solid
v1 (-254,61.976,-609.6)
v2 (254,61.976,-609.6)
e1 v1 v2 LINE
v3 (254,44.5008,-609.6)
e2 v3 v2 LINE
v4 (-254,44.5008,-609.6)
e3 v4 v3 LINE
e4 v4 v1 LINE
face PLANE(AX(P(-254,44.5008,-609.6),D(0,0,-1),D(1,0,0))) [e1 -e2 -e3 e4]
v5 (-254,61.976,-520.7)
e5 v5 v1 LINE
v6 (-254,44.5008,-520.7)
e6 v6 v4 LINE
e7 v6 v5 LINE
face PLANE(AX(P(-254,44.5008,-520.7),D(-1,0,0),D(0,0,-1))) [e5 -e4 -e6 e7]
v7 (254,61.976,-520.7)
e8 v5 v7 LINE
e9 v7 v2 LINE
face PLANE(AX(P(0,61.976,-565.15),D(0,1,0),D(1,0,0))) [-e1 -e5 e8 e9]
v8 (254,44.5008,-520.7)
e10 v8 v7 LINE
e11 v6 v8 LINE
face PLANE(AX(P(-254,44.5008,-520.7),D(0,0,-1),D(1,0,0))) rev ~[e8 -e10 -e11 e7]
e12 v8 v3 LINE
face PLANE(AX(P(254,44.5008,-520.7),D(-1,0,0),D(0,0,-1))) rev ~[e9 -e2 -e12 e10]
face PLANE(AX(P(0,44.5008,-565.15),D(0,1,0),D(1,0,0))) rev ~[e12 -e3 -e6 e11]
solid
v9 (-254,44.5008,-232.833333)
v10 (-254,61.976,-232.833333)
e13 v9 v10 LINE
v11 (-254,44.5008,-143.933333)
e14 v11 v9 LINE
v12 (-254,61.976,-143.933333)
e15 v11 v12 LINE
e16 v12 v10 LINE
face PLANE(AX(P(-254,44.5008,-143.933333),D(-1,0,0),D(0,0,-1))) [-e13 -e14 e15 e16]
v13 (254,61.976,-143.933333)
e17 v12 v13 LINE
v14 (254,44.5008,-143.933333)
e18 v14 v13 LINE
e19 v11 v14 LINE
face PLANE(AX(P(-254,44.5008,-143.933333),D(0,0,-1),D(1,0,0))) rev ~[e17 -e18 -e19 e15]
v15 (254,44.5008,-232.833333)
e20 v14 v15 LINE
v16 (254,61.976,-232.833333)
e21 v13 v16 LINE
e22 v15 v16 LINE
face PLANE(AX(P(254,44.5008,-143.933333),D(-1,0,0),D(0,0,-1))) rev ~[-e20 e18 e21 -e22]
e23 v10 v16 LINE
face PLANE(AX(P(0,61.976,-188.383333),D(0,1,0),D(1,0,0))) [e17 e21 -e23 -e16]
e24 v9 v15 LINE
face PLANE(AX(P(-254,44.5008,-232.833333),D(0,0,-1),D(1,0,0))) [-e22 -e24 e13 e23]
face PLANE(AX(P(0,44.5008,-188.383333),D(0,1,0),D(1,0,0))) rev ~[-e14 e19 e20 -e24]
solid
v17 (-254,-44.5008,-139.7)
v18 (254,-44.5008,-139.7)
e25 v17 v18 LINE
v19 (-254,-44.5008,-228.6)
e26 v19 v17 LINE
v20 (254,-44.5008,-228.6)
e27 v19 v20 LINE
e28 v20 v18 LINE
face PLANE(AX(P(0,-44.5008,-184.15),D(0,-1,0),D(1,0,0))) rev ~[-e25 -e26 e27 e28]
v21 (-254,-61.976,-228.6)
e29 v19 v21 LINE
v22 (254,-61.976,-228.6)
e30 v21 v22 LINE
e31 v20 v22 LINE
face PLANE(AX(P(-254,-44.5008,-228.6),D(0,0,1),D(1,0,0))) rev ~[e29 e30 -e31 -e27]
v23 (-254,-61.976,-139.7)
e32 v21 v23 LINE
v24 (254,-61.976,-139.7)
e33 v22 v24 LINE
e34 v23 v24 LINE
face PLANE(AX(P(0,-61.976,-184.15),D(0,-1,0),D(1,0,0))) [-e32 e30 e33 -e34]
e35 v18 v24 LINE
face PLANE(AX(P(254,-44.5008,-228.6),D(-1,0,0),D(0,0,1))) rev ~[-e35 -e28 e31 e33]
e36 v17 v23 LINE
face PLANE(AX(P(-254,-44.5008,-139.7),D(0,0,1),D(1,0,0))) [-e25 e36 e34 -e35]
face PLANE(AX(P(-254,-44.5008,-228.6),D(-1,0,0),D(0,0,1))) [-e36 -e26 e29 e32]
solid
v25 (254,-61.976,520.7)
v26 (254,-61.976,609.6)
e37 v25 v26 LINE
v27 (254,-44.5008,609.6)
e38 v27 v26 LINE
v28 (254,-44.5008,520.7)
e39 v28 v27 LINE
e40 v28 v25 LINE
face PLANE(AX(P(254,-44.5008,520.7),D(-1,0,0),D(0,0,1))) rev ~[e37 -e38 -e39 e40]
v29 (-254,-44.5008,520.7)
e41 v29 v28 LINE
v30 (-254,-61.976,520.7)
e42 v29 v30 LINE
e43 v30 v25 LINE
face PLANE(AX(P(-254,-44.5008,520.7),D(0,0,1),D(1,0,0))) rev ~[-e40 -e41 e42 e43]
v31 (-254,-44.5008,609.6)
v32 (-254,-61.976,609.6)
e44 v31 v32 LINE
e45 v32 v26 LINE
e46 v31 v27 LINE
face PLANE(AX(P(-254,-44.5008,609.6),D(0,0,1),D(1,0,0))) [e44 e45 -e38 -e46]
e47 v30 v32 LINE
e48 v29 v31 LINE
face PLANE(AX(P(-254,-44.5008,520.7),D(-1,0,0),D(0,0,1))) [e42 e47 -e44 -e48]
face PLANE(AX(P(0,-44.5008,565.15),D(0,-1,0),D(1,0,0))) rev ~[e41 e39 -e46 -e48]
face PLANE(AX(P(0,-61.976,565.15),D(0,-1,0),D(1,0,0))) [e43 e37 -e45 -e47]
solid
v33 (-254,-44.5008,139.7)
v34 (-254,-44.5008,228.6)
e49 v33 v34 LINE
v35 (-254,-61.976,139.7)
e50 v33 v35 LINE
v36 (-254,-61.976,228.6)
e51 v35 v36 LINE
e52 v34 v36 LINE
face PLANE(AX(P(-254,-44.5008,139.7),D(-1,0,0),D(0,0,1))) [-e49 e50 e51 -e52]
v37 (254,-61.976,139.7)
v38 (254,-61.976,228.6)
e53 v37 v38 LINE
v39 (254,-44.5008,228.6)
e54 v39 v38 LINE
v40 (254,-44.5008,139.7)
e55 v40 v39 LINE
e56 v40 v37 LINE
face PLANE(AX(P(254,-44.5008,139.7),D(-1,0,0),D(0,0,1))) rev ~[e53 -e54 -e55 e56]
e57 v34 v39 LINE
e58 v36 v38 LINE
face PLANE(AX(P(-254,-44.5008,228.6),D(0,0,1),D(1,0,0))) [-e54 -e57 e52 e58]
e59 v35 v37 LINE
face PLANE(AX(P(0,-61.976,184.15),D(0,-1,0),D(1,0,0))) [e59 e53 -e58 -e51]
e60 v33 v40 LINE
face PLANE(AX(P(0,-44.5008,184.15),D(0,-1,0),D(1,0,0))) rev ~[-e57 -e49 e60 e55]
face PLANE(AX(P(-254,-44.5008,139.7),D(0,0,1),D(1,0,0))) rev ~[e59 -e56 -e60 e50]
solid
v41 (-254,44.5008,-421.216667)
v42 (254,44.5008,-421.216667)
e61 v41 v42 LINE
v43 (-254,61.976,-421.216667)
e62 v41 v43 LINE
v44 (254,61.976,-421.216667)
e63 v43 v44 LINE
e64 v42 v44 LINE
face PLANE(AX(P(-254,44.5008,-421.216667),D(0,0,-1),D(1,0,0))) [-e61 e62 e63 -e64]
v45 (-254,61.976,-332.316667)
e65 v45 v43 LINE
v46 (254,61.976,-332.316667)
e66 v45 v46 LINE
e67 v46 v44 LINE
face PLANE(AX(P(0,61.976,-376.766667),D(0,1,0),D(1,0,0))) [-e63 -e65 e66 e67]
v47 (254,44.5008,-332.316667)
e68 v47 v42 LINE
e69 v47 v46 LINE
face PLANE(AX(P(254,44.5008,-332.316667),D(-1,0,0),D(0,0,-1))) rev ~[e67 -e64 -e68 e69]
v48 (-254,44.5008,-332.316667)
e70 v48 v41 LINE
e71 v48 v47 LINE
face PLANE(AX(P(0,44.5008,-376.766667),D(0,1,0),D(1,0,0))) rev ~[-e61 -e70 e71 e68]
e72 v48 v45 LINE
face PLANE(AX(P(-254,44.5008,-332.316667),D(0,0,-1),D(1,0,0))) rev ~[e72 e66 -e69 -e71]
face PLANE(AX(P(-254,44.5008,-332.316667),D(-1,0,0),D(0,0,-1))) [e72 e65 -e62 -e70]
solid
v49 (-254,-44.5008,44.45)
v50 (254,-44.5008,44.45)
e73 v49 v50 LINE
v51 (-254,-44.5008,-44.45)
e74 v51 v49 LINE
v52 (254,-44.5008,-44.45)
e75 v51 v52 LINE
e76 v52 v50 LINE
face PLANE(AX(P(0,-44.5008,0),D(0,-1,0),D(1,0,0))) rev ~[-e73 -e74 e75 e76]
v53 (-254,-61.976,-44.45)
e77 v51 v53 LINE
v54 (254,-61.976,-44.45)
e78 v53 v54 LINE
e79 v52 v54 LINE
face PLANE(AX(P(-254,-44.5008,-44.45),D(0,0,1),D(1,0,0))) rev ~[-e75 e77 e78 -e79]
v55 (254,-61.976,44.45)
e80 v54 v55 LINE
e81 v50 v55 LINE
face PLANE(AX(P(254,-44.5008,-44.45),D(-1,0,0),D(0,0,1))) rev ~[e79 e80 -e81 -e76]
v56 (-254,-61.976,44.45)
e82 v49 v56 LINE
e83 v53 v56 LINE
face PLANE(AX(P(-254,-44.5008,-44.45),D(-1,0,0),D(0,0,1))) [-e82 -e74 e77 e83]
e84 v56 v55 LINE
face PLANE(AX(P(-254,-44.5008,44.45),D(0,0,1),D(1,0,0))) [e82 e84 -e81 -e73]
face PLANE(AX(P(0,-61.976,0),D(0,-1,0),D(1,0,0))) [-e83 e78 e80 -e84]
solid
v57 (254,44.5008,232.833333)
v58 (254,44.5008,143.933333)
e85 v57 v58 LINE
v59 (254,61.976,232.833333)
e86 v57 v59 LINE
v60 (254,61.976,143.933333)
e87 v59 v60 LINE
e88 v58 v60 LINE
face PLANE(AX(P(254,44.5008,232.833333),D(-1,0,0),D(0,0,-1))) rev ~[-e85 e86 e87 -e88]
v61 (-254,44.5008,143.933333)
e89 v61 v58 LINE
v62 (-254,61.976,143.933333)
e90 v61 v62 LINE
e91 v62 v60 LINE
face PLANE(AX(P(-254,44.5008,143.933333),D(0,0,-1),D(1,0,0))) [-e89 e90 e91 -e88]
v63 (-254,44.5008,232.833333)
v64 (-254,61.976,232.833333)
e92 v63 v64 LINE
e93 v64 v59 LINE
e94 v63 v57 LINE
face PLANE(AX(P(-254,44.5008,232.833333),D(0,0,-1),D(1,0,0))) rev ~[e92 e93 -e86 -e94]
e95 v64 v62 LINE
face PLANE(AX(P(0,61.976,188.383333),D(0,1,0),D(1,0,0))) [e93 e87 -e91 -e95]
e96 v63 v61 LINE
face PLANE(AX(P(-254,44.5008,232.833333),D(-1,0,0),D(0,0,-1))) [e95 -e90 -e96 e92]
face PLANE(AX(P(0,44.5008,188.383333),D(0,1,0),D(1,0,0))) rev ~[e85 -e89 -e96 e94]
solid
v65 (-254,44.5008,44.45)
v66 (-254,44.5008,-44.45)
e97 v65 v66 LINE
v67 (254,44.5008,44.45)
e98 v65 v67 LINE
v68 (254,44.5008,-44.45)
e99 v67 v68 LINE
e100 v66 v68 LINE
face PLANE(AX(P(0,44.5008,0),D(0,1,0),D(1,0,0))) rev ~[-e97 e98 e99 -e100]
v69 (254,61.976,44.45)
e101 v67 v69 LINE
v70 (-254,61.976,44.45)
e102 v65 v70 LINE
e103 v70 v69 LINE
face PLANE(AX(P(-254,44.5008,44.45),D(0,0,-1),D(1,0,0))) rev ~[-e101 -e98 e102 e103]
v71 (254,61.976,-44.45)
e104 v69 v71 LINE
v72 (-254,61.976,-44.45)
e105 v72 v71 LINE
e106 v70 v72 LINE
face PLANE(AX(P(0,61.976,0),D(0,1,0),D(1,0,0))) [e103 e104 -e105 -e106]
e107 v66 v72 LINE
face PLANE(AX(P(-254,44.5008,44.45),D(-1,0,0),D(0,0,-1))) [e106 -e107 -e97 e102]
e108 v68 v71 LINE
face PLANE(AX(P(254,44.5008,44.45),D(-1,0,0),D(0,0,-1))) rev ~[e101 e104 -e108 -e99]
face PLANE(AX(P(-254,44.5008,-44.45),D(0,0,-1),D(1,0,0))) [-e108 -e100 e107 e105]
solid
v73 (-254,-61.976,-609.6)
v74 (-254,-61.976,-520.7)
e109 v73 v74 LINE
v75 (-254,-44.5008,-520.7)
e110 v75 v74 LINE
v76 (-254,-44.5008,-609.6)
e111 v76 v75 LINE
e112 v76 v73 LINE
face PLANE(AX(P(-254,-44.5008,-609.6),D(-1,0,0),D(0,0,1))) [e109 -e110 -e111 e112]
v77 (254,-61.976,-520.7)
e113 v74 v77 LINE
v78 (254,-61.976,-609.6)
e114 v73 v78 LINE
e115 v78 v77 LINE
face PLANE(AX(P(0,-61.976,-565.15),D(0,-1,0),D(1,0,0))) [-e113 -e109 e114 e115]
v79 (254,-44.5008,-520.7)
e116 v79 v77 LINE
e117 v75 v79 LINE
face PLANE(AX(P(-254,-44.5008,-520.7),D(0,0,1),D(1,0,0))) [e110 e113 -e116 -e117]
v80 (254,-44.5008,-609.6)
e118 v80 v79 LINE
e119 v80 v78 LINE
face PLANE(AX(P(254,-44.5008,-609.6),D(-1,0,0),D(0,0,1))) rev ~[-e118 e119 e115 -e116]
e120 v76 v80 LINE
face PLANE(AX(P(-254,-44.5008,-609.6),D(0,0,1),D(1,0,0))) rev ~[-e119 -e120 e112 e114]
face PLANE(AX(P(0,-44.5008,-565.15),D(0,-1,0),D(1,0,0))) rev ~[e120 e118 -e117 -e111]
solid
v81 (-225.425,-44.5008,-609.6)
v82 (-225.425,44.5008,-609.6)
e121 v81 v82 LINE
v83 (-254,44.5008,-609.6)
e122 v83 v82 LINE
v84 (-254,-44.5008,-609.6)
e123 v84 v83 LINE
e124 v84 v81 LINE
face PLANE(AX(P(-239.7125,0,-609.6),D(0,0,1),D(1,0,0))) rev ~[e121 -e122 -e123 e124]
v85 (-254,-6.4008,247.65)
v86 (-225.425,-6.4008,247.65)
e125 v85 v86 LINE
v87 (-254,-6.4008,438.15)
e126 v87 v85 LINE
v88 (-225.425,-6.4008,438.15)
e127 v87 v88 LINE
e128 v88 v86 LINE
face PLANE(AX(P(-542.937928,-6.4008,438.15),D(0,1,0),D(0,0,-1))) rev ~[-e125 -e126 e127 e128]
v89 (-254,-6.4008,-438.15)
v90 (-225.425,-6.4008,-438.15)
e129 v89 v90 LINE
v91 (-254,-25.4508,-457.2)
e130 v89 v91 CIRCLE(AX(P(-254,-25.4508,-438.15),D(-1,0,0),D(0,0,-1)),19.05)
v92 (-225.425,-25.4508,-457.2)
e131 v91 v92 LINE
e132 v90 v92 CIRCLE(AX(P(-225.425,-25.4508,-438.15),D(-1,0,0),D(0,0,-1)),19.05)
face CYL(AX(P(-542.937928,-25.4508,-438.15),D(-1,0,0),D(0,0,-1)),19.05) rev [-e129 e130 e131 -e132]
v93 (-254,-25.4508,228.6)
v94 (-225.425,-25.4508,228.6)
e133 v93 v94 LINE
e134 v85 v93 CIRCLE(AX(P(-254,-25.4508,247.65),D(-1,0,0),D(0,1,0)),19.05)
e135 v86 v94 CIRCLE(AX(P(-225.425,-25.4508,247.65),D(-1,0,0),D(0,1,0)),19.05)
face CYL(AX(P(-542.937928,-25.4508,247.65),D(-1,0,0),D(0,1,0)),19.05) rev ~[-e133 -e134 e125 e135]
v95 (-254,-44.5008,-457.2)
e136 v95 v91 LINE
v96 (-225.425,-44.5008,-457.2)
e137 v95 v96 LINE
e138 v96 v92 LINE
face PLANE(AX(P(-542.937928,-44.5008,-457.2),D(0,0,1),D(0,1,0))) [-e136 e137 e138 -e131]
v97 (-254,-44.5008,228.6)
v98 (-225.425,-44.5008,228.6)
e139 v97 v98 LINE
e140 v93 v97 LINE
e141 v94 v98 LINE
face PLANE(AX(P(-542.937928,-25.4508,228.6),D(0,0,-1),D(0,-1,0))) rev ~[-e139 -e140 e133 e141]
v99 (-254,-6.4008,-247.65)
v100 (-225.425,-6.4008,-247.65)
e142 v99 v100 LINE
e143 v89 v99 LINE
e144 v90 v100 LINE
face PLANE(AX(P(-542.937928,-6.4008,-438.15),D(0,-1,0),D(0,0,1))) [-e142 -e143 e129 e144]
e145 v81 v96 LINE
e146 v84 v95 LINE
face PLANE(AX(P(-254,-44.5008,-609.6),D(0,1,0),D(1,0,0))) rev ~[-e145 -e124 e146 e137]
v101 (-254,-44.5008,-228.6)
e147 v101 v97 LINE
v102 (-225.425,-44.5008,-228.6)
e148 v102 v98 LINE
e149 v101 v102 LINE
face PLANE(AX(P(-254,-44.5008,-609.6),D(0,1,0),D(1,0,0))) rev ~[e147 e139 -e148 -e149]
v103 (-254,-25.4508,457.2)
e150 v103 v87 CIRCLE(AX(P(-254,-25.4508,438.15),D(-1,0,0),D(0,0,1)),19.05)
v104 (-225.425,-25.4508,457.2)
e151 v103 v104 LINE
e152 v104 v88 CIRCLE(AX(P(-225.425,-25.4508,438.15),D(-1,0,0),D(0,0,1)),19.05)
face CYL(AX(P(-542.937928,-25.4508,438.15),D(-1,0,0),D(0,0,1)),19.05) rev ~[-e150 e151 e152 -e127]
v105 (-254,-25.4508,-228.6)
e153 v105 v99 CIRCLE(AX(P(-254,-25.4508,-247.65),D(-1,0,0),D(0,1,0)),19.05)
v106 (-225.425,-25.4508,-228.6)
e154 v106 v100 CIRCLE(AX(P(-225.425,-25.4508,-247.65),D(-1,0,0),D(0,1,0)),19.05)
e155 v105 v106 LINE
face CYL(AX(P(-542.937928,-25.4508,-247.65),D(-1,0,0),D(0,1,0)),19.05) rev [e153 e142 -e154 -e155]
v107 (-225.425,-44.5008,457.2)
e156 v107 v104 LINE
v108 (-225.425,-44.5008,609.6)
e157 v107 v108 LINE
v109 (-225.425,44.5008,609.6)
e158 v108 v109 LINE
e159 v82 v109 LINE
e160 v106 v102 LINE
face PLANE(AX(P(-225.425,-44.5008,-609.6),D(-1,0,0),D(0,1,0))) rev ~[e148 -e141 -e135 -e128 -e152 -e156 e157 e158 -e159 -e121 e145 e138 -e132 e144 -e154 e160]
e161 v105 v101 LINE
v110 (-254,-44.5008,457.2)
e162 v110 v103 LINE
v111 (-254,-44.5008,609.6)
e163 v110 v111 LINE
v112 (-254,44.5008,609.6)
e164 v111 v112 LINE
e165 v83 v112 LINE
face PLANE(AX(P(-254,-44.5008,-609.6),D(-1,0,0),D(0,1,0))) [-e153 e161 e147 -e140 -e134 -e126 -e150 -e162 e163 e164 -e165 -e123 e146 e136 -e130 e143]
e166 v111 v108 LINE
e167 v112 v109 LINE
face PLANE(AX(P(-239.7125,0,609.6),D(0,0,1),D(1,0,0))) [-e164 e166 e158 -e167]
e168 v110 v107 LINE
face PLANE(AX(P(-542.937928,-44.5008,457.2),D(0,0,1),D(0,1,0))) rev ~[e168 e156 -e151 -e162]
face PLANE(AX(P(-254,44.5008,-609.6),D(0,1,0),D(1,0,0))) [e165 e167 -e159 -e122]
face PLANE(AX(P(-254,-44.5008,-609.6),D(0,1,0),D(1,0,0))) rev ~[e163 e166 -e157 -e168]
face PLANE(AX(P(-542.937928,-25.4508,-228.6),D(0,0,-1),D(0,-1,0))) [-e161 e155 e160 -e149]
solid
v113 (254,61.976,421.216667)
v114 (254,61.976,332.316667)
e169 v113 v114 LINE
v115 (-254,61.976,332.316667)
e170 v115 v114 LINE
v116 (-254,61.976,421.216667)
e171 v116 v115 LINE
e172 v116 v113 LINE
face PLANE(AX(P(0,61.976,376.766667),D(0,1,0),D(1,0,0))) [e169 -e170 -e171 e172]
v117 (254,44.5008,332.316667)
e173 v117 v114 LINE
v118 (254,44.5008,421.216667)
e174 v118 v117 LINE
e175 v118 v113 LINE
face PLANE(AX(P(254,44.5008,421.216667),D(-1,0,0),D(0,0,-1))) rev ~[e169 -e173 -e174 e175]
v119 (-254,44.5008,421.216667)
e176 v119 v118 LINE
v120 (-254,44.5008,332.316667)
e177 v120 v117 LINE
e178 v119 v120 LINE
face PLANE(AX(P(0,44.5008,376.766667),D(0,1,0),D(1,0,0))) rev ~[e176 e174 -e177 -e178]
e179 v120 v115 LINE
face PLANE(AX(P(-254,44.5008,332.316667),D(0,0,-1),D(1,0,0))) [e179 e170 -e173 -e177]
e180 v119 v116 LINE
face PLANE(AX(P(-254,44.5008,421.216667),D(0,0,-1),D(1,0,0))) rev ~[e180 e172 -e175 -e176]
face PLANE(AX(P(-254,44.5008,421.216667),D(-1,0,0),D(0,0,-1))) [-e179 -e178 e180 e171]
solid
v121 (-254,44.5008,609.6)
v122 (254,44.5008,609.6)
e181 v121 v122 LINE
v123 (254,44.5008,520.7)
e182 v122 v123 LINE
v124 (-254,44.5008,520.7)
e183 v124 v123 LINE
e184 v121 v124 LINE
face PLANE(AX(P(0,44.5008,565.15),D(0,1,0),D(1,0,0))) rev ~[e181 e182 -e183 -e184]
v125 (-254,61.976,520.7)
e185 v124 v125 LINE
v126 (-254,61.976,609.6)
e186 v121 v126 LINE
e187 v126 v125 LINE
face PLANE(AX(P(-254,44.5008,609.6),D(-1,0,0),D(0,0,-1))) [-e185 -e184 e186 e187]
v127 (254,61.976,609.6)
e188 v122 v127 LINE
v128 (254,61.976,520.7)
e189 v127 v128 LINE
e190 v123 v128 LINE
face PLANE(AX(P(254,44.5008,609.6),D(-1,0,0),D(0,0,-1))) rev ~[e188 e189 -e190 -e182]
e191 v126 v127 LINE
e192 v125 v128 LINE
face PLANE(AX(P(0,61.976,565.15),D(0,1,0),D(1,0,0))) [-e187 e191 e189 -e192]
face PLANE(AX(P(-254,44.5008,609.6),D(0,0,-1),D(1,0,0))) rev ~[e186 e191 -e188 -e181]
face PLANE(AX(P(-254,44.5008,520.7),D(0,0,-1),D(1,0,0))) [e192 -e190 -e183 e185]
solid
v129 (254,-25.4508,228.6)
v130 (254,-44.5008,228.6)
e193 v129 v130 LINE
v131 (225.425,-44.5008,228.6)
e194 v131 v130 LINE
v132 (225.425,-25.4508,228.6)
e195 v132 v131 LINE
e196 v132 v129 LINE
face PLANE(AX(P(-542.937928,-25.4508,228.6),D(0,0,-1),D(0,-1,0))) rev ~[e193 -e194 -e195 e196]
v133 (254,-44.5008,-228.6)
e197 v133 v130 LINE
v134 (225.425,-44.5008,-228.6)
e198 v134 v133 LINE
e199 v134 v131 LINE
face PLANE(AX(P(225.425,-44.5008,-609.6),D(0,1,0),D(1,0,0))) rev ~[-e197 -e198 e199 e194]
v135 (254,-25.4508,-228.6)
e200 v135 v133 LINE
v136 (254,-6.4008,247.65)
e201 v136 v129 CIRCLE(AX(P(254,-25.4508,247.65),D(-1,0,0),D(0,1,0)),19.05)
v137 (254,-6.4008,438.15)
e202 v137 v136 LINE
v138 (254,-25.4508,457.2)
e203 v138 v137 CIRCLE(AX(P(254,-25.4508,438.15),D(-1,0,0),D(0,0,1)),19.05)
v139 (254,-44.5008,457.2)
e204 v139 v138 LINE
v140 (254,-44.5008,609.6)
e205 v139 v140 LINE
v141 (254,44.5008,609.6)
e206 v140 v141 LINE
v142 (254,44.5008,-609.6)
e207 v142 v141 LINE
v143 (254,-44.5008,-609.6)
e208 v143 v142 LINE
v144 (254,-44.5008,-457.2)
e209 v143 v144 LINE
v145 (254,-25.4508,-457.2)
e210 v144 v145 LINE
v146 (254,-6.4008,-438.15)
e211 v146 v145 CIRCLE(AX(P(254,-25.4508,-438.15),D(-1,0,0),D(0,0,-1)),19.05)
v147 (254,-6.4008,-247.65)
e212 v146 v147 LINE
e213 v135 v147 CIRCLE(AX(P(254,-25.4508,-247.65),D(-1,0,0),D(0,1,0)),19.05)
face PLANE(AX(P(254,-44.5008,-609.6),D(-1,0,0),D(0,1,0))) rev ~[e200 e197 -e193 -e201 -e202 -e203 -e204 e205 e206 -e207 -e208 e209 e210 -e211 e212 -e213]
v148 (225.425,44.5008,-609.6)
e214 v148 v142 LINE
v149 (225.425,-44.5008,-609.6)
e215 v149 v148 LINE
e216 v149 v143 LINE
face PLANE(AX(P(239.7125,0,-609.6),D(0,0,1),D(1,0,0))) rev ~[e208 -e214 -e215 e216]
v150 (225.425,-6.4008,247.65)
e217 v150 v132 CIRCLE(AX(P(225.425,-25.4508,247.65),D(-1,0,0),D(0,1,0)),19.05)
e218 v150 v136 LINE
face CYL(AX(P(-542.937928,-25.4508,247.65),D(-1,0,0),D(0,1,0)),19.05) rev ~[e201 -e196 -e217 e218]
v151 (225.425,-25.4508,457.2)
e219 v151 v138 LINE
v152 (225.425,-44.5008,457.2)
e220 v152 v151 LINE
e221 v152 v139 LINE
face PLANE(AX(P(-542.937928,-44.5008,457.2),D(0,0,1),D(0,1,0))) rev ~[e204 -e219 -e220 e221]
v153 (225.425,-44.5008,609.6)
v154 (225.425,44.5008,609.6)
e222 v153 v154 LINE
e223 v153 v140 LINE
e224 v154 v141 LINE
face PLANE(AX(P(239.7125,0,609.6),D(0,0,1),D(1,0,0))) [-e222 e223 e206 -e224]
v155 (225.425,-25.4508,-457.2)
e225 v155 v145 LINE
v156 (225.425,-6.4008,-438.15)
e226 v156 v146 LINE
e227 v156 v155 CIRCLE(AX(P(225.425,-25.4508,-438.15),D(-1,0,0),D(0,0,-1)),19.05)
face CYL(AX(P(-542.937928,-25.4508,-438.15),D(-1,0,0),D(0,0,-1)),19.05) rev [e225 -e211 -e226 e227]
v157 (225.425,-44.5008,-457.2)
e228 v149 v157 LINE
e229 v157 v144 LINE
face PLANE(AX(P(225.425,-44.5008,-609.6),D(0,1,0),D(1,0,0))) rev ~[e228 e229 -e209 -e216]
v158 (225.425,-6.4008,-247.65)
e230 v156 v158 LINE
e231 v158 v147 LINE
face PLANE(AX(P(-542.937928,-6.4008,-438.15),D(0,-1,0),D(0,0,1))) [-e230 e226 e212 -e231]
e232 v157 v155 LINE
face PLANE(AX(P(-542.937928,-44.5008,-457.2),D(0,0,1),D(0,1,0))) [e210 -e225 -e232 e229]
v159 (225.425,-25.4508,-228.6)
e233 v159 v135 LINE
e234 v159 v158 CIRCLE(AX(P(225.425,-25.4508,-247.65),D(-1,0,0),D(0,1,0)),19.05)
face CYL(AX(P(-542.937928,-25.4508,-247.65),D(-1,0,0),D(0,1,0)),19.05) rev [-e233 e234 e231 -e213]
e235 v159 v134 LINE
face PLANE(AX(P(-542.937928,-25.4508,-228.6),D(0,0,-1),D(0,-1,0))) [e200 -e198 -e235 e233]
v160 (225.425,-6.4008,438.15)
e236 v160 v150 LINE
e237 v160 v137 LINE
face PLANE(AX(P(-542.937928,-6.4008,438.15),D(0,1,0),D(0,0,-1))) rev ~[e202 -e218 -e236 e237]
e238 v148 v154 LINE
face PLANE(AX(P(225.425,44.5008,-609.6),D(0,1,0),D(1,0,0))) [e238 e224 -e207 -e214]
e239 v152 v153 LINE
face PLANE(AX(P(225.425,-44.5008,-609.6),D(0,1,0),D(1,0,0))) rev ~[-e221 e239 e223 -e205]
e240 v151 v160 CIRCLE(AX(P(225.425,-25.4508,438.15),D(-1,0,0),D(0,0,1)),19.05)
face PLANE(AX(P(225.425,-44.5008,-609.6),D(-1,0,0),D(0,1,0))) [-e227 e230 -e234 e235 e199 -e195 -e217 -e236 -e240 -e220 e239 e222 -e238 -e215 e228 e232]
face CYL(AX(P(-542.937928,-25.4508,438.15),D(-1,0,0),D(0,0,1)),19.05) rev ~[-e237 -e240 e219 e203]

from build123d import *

# Parameters (mm, degrees)
BOSS_EXTRUDE1_DEPTH        = 609.6
BOSS_EXTRUDE1_DEPTH_BACK   = 609.6
SKETCH3_W                  = 28.575
SKETCH3_H                  = 89.0016
BOSS_EXTRUDE1_2_DEPTH      = 609.6
BOSS_EXTRUDE1_2_DEPTH_BACK = 609.6
SKETCH4_W                  = 508
SKETCH4_H                  = 88.9
BOSS_EXTRUDE2_DEPTH        = 17.4752
BOSS_EXTRUDE2_2_DEPTH      = 17.4752
BOSS_EXTRUDE2_3_DEPTH      = 17.4752
BOSS_EXTRUDE2_4_DEPTH      = 17.4752
BOSS_EXTRUDE2_5_DEPTH      = 17.4752
BOSS_EXTRUDE2_6_DEPTH      = 17.4752
BOSS_EXTRUDE2_7_DEPTH      = 17.4752
SKETCH5_W                  = 508
SKETCH5_H                  = 88.9
BOSS_EXTRUDE3_DEPTH        = 17.4752
BOSS_EXTRUDE3_2_DEPTH      = 17.4752
BOSS_EXTRUDE3_3_DEPTH      = 17.4752
BOSS_EXTRUDE3_4_DEPTH      = 17.4752
BOSS_EXTRUDE3_5_DEPTH      = 17.4752
CUT_EXTRUDE2_DEPTH         = 796.93792759
CUT_EXTRUDE2_DEPTH_BACK    = 796.93792759


with BuildPart() as part:
    # Sketch3 → Boss-Extrude1 (new, two sides: drawn at the far end of the back side and taken through both)
    with BuildSketch(Plane.XY.offset(-BOSS_EXTRUDE1_DEPTH_BACK)):
        with Locations((-239.7125, 0)):
            Rectangle(SKETCH3_W, SKETCH3_H)
    extrude(amount=BOSS_EXTRUDE1_DEPTH + BOSS_EXTRUDE1_DEPTH_BACK)


with BuildPart() as body_2:
    # Sketch3 → Boss-Extrude1 2 (new, two sides: drawn at the far end of the back side and taken through both)
    with BuildSketch(Plane.XY.offset(-BOSS_EXTRUDE1_2_DEPTH_BACK)):
        with Locations((239.7125, 0)):
            Rectangle(SKETCH3_W, SKETCH3_H)
    extrude(amount=BOSS_EXTRUDE1_2_DEPTH + BOSS_EXTRUDE1_2_DEPTH_BACK)


with BuildPart() as body_3:
    # Sketch4 → Boss-Extrude2 (new body)
    with BuildSketch(Plane(origin=(0, 44.5008, 0), x_dir=(1, 0, 0), z_dir=(0, 1, 0))):
        with Locations((0, -565.15)):
            Rectangle(SKETCH4_W, SKETCH4_H)
    extrude(amount=BOSS_EXTRUDE2_DEPTH)


with BuildPart() as body_4:
    # Sketch4 → Boss-Extrude2 2 (new body)
    with BuildSketch(Plane(origin=(0, 44.5008, 0), x_dir=(1, 0, 0), z_dir=(0, 1, 0))):
        with Locations((0, -376.766666667)):
            Rectangle(SKETCH4_W, SKETCH4_H)
    extrude(amount=BOSS_EXTRUDE2_2_DEPTH)


with BuildPart() as body_5:
    # Sketch4 → Boss-Extrude2 3 (new body)
    with BuildSketch(Plane(origin=(0, 44.5008, 0), x_dir=(1, 0, 0), z_dir=(0, 1, 0))):
        with Locations((0, -188.383333333)):
            Rectangle(SKETCH4_W, SKETCH4_H)
    extrude(amount=BOSS_EXTRUDE2_3_DEPTH)


with BuildPart() as body_6:
    # Sketch4 → Boss-Extrude2 4 (new body)
    with BuildSketch(Plane(origin=(0, 44.5008, 0), x_dir=(1, 0, 0), z_dir=(0, 1, 0))):
        Rectangle(SKETCH4_W, SKETCH4_H)
    extrude(amount=BOSS_EXTRUDE2_4_DEPTH)


with BuildPart() as body_7:
    # Sketch4 → Boss-Extrude2 5 (new body)
    with BuildSketch(Plane(origin=(0, 44.5008, 0), x_dir=(1, 0, 0), z_dir=(0, 1, 0))):
        with Locations((0, 188.383333333)):
            Rectangle(SKETCH4_W, SKETCH4_H)
    extrude(amount=BOSS_EXTRUDE2_5_DEPTH)


with BuildPart() as body_8:
    # Sketch4 → Boss-Extrude2 6 (new body)
    with BuildSketch(Plane(origin=(0, 44.5008, 0), x_dir=(1, 0, 0), z_dir=(0, 1, 0))):
        with Locations((0, 376.766666667)):
            Rectangle(SKETCH4_W, SKETCH4_H)
    extrude(amount=BOSS_EXTRUDE2_6_DEPTH)


with BuildPart() as body_9:
    # Sketch4 → Boss-Extrude2 7 (new body)
    with BuildSketch(Plane(origin=(0, 44.5008, 0), x_dir=(1, 0, 0), z_dir=(0, 1, 0))):
        with Locations((0, 565.15)):
            Rectangle(SKETCH4_W, SKETCH4_H)
    extrude(amount=BOSS_EXTRUDE2_7_DEPTH)


with BuildPart() as body_10:
    # Sketch5 → Boss-Extrude3 (new body)
    with BuildSketch(Plane.XZ.offset(44.5008)):
        with Locations((0, 565.15)):
            Rectangle(SKETCH5_W, SKETCH5_H)
    extrude(amount=BOSS_EXTRUDE3_DEPTH)


with BuildPart() as body_11:
    # Sketch5 → Boss-Extrude3 2 (new body)
    with BuildSketch(Plane.XZ.offset(44.5008)):
        with Locations((0, -565.15)):
            Rectangle(SKETCH5_W, SKETCH5_H)
    extrude(amount=BOSS_EXTRUDE3_2_DEPTH)


with BuildPart() as body_12:
    # Sketch5 → Boss-Extrude3 3 (new body)
    with BuildSketch(Plane.XZ.offset(44.5008)):
        Rectangle(SKETCH5_W, SKETCH5_H)
    extrude(amount=BOSS_EXTRUDE3_3_DEPTH)


with BuildPart() as body_13:
    # Sketch5 → Boss-Extrude3 4 (new body)
    with BuildSketch(Plane.XZ.offset(44.5008)):
        with Locations((0, 184.15)):
            Rectangle(SKETCH5_W, SKETCH5_H)
    extrude(amount=BOSS_EXTRUDE3_4_DEPTH)


with BuildPart() as body_14:
    # Sketch5 → Boss-Extrude3 5 (new body)
    with BuildSketch(Plane.XZ.offset(44.5008)):
        with Locations((0, -184.15)):
            Rectangle(SKETCH5_W, SKETCH5_H)
    extrude(amount=BOSS_EXTRUDE3_5_DEPTH)


with BuildPart() as cut_extrude2_tool:
    # Sketch8 → Cut-Extrude2 (new, two sides: drawn at the far end of the back side and taken through both)
    with BuildSketch(Plane(origin=(254, 0, 0), x_dir=(0, 0, -1), z_dir=(1, 0, 0)).offset(-CUT_EXTRUDE2_DEPTH_BACK)):
        with BuildLine():
            Line((-228.6, -44.5008), (-457.2, -44.5008))
            Line((-457.2, -44.5008), (-457.2, -25.4508))
            ThreePointArc((-457.2, -25.4508), (-451.620384182, -11.980415818), (-438.15, -6.4008))
            Line((-438.15, -6.4008), (-247.65, -6.4008))
            ThreePointArc((-247.65, -6.4008), (-234.179615818, -11.980415818), (-228.6, -25.4508))
            Line((-228.6, -25.4508), (-228.6, -44.5008))
        make_face()
        with BuildLine():
            Line((228.6, -44.5008), (457.2, -44.5008))
            Line((457.2, -44.5008), (457.2, -25.4508))
            ThreePointArc((457.2, -25.4508), (451.620384182, -11.980415818), (438.15, -6.4008))
            Line((438.15, -6.4008), (247.65, -6.4008))
            ThreePointArc((247.65, -6.4008), (234.179615818, -11.980415818), (228.6, -25.4508))
            Line((228.6, -25.4508), (228.6, -44.5008))
        make_face()
    extrude(amount=CUT_EXTRUDE2_DEPTH + CUT_EXTRUDE2_DEPTH_BACK)


with BuildPart() as part_1:
    add(part.part)

    # Cut-Extrude2: cut by cut_extrude2_tool
    add(cut_extrude2_tool.part, mode=Mode.SUBTRACT)


with BuildPart() as body_2_1:
    add(body_2.part)

    # Cut-Extrude2: cut by cut_extrude2_tool
    add(cut_extrude2_tool.part, mode=Mode.SUBTRACT)


solid = Compound([body_3.part, body_4.part, body_5.part, body_6.part, body_7.part, body_8.part, body_9.part, body_10.part, body_11.part, body_12.part, body_13.part, body_14.part, part_1.part, body_2_1.part])
